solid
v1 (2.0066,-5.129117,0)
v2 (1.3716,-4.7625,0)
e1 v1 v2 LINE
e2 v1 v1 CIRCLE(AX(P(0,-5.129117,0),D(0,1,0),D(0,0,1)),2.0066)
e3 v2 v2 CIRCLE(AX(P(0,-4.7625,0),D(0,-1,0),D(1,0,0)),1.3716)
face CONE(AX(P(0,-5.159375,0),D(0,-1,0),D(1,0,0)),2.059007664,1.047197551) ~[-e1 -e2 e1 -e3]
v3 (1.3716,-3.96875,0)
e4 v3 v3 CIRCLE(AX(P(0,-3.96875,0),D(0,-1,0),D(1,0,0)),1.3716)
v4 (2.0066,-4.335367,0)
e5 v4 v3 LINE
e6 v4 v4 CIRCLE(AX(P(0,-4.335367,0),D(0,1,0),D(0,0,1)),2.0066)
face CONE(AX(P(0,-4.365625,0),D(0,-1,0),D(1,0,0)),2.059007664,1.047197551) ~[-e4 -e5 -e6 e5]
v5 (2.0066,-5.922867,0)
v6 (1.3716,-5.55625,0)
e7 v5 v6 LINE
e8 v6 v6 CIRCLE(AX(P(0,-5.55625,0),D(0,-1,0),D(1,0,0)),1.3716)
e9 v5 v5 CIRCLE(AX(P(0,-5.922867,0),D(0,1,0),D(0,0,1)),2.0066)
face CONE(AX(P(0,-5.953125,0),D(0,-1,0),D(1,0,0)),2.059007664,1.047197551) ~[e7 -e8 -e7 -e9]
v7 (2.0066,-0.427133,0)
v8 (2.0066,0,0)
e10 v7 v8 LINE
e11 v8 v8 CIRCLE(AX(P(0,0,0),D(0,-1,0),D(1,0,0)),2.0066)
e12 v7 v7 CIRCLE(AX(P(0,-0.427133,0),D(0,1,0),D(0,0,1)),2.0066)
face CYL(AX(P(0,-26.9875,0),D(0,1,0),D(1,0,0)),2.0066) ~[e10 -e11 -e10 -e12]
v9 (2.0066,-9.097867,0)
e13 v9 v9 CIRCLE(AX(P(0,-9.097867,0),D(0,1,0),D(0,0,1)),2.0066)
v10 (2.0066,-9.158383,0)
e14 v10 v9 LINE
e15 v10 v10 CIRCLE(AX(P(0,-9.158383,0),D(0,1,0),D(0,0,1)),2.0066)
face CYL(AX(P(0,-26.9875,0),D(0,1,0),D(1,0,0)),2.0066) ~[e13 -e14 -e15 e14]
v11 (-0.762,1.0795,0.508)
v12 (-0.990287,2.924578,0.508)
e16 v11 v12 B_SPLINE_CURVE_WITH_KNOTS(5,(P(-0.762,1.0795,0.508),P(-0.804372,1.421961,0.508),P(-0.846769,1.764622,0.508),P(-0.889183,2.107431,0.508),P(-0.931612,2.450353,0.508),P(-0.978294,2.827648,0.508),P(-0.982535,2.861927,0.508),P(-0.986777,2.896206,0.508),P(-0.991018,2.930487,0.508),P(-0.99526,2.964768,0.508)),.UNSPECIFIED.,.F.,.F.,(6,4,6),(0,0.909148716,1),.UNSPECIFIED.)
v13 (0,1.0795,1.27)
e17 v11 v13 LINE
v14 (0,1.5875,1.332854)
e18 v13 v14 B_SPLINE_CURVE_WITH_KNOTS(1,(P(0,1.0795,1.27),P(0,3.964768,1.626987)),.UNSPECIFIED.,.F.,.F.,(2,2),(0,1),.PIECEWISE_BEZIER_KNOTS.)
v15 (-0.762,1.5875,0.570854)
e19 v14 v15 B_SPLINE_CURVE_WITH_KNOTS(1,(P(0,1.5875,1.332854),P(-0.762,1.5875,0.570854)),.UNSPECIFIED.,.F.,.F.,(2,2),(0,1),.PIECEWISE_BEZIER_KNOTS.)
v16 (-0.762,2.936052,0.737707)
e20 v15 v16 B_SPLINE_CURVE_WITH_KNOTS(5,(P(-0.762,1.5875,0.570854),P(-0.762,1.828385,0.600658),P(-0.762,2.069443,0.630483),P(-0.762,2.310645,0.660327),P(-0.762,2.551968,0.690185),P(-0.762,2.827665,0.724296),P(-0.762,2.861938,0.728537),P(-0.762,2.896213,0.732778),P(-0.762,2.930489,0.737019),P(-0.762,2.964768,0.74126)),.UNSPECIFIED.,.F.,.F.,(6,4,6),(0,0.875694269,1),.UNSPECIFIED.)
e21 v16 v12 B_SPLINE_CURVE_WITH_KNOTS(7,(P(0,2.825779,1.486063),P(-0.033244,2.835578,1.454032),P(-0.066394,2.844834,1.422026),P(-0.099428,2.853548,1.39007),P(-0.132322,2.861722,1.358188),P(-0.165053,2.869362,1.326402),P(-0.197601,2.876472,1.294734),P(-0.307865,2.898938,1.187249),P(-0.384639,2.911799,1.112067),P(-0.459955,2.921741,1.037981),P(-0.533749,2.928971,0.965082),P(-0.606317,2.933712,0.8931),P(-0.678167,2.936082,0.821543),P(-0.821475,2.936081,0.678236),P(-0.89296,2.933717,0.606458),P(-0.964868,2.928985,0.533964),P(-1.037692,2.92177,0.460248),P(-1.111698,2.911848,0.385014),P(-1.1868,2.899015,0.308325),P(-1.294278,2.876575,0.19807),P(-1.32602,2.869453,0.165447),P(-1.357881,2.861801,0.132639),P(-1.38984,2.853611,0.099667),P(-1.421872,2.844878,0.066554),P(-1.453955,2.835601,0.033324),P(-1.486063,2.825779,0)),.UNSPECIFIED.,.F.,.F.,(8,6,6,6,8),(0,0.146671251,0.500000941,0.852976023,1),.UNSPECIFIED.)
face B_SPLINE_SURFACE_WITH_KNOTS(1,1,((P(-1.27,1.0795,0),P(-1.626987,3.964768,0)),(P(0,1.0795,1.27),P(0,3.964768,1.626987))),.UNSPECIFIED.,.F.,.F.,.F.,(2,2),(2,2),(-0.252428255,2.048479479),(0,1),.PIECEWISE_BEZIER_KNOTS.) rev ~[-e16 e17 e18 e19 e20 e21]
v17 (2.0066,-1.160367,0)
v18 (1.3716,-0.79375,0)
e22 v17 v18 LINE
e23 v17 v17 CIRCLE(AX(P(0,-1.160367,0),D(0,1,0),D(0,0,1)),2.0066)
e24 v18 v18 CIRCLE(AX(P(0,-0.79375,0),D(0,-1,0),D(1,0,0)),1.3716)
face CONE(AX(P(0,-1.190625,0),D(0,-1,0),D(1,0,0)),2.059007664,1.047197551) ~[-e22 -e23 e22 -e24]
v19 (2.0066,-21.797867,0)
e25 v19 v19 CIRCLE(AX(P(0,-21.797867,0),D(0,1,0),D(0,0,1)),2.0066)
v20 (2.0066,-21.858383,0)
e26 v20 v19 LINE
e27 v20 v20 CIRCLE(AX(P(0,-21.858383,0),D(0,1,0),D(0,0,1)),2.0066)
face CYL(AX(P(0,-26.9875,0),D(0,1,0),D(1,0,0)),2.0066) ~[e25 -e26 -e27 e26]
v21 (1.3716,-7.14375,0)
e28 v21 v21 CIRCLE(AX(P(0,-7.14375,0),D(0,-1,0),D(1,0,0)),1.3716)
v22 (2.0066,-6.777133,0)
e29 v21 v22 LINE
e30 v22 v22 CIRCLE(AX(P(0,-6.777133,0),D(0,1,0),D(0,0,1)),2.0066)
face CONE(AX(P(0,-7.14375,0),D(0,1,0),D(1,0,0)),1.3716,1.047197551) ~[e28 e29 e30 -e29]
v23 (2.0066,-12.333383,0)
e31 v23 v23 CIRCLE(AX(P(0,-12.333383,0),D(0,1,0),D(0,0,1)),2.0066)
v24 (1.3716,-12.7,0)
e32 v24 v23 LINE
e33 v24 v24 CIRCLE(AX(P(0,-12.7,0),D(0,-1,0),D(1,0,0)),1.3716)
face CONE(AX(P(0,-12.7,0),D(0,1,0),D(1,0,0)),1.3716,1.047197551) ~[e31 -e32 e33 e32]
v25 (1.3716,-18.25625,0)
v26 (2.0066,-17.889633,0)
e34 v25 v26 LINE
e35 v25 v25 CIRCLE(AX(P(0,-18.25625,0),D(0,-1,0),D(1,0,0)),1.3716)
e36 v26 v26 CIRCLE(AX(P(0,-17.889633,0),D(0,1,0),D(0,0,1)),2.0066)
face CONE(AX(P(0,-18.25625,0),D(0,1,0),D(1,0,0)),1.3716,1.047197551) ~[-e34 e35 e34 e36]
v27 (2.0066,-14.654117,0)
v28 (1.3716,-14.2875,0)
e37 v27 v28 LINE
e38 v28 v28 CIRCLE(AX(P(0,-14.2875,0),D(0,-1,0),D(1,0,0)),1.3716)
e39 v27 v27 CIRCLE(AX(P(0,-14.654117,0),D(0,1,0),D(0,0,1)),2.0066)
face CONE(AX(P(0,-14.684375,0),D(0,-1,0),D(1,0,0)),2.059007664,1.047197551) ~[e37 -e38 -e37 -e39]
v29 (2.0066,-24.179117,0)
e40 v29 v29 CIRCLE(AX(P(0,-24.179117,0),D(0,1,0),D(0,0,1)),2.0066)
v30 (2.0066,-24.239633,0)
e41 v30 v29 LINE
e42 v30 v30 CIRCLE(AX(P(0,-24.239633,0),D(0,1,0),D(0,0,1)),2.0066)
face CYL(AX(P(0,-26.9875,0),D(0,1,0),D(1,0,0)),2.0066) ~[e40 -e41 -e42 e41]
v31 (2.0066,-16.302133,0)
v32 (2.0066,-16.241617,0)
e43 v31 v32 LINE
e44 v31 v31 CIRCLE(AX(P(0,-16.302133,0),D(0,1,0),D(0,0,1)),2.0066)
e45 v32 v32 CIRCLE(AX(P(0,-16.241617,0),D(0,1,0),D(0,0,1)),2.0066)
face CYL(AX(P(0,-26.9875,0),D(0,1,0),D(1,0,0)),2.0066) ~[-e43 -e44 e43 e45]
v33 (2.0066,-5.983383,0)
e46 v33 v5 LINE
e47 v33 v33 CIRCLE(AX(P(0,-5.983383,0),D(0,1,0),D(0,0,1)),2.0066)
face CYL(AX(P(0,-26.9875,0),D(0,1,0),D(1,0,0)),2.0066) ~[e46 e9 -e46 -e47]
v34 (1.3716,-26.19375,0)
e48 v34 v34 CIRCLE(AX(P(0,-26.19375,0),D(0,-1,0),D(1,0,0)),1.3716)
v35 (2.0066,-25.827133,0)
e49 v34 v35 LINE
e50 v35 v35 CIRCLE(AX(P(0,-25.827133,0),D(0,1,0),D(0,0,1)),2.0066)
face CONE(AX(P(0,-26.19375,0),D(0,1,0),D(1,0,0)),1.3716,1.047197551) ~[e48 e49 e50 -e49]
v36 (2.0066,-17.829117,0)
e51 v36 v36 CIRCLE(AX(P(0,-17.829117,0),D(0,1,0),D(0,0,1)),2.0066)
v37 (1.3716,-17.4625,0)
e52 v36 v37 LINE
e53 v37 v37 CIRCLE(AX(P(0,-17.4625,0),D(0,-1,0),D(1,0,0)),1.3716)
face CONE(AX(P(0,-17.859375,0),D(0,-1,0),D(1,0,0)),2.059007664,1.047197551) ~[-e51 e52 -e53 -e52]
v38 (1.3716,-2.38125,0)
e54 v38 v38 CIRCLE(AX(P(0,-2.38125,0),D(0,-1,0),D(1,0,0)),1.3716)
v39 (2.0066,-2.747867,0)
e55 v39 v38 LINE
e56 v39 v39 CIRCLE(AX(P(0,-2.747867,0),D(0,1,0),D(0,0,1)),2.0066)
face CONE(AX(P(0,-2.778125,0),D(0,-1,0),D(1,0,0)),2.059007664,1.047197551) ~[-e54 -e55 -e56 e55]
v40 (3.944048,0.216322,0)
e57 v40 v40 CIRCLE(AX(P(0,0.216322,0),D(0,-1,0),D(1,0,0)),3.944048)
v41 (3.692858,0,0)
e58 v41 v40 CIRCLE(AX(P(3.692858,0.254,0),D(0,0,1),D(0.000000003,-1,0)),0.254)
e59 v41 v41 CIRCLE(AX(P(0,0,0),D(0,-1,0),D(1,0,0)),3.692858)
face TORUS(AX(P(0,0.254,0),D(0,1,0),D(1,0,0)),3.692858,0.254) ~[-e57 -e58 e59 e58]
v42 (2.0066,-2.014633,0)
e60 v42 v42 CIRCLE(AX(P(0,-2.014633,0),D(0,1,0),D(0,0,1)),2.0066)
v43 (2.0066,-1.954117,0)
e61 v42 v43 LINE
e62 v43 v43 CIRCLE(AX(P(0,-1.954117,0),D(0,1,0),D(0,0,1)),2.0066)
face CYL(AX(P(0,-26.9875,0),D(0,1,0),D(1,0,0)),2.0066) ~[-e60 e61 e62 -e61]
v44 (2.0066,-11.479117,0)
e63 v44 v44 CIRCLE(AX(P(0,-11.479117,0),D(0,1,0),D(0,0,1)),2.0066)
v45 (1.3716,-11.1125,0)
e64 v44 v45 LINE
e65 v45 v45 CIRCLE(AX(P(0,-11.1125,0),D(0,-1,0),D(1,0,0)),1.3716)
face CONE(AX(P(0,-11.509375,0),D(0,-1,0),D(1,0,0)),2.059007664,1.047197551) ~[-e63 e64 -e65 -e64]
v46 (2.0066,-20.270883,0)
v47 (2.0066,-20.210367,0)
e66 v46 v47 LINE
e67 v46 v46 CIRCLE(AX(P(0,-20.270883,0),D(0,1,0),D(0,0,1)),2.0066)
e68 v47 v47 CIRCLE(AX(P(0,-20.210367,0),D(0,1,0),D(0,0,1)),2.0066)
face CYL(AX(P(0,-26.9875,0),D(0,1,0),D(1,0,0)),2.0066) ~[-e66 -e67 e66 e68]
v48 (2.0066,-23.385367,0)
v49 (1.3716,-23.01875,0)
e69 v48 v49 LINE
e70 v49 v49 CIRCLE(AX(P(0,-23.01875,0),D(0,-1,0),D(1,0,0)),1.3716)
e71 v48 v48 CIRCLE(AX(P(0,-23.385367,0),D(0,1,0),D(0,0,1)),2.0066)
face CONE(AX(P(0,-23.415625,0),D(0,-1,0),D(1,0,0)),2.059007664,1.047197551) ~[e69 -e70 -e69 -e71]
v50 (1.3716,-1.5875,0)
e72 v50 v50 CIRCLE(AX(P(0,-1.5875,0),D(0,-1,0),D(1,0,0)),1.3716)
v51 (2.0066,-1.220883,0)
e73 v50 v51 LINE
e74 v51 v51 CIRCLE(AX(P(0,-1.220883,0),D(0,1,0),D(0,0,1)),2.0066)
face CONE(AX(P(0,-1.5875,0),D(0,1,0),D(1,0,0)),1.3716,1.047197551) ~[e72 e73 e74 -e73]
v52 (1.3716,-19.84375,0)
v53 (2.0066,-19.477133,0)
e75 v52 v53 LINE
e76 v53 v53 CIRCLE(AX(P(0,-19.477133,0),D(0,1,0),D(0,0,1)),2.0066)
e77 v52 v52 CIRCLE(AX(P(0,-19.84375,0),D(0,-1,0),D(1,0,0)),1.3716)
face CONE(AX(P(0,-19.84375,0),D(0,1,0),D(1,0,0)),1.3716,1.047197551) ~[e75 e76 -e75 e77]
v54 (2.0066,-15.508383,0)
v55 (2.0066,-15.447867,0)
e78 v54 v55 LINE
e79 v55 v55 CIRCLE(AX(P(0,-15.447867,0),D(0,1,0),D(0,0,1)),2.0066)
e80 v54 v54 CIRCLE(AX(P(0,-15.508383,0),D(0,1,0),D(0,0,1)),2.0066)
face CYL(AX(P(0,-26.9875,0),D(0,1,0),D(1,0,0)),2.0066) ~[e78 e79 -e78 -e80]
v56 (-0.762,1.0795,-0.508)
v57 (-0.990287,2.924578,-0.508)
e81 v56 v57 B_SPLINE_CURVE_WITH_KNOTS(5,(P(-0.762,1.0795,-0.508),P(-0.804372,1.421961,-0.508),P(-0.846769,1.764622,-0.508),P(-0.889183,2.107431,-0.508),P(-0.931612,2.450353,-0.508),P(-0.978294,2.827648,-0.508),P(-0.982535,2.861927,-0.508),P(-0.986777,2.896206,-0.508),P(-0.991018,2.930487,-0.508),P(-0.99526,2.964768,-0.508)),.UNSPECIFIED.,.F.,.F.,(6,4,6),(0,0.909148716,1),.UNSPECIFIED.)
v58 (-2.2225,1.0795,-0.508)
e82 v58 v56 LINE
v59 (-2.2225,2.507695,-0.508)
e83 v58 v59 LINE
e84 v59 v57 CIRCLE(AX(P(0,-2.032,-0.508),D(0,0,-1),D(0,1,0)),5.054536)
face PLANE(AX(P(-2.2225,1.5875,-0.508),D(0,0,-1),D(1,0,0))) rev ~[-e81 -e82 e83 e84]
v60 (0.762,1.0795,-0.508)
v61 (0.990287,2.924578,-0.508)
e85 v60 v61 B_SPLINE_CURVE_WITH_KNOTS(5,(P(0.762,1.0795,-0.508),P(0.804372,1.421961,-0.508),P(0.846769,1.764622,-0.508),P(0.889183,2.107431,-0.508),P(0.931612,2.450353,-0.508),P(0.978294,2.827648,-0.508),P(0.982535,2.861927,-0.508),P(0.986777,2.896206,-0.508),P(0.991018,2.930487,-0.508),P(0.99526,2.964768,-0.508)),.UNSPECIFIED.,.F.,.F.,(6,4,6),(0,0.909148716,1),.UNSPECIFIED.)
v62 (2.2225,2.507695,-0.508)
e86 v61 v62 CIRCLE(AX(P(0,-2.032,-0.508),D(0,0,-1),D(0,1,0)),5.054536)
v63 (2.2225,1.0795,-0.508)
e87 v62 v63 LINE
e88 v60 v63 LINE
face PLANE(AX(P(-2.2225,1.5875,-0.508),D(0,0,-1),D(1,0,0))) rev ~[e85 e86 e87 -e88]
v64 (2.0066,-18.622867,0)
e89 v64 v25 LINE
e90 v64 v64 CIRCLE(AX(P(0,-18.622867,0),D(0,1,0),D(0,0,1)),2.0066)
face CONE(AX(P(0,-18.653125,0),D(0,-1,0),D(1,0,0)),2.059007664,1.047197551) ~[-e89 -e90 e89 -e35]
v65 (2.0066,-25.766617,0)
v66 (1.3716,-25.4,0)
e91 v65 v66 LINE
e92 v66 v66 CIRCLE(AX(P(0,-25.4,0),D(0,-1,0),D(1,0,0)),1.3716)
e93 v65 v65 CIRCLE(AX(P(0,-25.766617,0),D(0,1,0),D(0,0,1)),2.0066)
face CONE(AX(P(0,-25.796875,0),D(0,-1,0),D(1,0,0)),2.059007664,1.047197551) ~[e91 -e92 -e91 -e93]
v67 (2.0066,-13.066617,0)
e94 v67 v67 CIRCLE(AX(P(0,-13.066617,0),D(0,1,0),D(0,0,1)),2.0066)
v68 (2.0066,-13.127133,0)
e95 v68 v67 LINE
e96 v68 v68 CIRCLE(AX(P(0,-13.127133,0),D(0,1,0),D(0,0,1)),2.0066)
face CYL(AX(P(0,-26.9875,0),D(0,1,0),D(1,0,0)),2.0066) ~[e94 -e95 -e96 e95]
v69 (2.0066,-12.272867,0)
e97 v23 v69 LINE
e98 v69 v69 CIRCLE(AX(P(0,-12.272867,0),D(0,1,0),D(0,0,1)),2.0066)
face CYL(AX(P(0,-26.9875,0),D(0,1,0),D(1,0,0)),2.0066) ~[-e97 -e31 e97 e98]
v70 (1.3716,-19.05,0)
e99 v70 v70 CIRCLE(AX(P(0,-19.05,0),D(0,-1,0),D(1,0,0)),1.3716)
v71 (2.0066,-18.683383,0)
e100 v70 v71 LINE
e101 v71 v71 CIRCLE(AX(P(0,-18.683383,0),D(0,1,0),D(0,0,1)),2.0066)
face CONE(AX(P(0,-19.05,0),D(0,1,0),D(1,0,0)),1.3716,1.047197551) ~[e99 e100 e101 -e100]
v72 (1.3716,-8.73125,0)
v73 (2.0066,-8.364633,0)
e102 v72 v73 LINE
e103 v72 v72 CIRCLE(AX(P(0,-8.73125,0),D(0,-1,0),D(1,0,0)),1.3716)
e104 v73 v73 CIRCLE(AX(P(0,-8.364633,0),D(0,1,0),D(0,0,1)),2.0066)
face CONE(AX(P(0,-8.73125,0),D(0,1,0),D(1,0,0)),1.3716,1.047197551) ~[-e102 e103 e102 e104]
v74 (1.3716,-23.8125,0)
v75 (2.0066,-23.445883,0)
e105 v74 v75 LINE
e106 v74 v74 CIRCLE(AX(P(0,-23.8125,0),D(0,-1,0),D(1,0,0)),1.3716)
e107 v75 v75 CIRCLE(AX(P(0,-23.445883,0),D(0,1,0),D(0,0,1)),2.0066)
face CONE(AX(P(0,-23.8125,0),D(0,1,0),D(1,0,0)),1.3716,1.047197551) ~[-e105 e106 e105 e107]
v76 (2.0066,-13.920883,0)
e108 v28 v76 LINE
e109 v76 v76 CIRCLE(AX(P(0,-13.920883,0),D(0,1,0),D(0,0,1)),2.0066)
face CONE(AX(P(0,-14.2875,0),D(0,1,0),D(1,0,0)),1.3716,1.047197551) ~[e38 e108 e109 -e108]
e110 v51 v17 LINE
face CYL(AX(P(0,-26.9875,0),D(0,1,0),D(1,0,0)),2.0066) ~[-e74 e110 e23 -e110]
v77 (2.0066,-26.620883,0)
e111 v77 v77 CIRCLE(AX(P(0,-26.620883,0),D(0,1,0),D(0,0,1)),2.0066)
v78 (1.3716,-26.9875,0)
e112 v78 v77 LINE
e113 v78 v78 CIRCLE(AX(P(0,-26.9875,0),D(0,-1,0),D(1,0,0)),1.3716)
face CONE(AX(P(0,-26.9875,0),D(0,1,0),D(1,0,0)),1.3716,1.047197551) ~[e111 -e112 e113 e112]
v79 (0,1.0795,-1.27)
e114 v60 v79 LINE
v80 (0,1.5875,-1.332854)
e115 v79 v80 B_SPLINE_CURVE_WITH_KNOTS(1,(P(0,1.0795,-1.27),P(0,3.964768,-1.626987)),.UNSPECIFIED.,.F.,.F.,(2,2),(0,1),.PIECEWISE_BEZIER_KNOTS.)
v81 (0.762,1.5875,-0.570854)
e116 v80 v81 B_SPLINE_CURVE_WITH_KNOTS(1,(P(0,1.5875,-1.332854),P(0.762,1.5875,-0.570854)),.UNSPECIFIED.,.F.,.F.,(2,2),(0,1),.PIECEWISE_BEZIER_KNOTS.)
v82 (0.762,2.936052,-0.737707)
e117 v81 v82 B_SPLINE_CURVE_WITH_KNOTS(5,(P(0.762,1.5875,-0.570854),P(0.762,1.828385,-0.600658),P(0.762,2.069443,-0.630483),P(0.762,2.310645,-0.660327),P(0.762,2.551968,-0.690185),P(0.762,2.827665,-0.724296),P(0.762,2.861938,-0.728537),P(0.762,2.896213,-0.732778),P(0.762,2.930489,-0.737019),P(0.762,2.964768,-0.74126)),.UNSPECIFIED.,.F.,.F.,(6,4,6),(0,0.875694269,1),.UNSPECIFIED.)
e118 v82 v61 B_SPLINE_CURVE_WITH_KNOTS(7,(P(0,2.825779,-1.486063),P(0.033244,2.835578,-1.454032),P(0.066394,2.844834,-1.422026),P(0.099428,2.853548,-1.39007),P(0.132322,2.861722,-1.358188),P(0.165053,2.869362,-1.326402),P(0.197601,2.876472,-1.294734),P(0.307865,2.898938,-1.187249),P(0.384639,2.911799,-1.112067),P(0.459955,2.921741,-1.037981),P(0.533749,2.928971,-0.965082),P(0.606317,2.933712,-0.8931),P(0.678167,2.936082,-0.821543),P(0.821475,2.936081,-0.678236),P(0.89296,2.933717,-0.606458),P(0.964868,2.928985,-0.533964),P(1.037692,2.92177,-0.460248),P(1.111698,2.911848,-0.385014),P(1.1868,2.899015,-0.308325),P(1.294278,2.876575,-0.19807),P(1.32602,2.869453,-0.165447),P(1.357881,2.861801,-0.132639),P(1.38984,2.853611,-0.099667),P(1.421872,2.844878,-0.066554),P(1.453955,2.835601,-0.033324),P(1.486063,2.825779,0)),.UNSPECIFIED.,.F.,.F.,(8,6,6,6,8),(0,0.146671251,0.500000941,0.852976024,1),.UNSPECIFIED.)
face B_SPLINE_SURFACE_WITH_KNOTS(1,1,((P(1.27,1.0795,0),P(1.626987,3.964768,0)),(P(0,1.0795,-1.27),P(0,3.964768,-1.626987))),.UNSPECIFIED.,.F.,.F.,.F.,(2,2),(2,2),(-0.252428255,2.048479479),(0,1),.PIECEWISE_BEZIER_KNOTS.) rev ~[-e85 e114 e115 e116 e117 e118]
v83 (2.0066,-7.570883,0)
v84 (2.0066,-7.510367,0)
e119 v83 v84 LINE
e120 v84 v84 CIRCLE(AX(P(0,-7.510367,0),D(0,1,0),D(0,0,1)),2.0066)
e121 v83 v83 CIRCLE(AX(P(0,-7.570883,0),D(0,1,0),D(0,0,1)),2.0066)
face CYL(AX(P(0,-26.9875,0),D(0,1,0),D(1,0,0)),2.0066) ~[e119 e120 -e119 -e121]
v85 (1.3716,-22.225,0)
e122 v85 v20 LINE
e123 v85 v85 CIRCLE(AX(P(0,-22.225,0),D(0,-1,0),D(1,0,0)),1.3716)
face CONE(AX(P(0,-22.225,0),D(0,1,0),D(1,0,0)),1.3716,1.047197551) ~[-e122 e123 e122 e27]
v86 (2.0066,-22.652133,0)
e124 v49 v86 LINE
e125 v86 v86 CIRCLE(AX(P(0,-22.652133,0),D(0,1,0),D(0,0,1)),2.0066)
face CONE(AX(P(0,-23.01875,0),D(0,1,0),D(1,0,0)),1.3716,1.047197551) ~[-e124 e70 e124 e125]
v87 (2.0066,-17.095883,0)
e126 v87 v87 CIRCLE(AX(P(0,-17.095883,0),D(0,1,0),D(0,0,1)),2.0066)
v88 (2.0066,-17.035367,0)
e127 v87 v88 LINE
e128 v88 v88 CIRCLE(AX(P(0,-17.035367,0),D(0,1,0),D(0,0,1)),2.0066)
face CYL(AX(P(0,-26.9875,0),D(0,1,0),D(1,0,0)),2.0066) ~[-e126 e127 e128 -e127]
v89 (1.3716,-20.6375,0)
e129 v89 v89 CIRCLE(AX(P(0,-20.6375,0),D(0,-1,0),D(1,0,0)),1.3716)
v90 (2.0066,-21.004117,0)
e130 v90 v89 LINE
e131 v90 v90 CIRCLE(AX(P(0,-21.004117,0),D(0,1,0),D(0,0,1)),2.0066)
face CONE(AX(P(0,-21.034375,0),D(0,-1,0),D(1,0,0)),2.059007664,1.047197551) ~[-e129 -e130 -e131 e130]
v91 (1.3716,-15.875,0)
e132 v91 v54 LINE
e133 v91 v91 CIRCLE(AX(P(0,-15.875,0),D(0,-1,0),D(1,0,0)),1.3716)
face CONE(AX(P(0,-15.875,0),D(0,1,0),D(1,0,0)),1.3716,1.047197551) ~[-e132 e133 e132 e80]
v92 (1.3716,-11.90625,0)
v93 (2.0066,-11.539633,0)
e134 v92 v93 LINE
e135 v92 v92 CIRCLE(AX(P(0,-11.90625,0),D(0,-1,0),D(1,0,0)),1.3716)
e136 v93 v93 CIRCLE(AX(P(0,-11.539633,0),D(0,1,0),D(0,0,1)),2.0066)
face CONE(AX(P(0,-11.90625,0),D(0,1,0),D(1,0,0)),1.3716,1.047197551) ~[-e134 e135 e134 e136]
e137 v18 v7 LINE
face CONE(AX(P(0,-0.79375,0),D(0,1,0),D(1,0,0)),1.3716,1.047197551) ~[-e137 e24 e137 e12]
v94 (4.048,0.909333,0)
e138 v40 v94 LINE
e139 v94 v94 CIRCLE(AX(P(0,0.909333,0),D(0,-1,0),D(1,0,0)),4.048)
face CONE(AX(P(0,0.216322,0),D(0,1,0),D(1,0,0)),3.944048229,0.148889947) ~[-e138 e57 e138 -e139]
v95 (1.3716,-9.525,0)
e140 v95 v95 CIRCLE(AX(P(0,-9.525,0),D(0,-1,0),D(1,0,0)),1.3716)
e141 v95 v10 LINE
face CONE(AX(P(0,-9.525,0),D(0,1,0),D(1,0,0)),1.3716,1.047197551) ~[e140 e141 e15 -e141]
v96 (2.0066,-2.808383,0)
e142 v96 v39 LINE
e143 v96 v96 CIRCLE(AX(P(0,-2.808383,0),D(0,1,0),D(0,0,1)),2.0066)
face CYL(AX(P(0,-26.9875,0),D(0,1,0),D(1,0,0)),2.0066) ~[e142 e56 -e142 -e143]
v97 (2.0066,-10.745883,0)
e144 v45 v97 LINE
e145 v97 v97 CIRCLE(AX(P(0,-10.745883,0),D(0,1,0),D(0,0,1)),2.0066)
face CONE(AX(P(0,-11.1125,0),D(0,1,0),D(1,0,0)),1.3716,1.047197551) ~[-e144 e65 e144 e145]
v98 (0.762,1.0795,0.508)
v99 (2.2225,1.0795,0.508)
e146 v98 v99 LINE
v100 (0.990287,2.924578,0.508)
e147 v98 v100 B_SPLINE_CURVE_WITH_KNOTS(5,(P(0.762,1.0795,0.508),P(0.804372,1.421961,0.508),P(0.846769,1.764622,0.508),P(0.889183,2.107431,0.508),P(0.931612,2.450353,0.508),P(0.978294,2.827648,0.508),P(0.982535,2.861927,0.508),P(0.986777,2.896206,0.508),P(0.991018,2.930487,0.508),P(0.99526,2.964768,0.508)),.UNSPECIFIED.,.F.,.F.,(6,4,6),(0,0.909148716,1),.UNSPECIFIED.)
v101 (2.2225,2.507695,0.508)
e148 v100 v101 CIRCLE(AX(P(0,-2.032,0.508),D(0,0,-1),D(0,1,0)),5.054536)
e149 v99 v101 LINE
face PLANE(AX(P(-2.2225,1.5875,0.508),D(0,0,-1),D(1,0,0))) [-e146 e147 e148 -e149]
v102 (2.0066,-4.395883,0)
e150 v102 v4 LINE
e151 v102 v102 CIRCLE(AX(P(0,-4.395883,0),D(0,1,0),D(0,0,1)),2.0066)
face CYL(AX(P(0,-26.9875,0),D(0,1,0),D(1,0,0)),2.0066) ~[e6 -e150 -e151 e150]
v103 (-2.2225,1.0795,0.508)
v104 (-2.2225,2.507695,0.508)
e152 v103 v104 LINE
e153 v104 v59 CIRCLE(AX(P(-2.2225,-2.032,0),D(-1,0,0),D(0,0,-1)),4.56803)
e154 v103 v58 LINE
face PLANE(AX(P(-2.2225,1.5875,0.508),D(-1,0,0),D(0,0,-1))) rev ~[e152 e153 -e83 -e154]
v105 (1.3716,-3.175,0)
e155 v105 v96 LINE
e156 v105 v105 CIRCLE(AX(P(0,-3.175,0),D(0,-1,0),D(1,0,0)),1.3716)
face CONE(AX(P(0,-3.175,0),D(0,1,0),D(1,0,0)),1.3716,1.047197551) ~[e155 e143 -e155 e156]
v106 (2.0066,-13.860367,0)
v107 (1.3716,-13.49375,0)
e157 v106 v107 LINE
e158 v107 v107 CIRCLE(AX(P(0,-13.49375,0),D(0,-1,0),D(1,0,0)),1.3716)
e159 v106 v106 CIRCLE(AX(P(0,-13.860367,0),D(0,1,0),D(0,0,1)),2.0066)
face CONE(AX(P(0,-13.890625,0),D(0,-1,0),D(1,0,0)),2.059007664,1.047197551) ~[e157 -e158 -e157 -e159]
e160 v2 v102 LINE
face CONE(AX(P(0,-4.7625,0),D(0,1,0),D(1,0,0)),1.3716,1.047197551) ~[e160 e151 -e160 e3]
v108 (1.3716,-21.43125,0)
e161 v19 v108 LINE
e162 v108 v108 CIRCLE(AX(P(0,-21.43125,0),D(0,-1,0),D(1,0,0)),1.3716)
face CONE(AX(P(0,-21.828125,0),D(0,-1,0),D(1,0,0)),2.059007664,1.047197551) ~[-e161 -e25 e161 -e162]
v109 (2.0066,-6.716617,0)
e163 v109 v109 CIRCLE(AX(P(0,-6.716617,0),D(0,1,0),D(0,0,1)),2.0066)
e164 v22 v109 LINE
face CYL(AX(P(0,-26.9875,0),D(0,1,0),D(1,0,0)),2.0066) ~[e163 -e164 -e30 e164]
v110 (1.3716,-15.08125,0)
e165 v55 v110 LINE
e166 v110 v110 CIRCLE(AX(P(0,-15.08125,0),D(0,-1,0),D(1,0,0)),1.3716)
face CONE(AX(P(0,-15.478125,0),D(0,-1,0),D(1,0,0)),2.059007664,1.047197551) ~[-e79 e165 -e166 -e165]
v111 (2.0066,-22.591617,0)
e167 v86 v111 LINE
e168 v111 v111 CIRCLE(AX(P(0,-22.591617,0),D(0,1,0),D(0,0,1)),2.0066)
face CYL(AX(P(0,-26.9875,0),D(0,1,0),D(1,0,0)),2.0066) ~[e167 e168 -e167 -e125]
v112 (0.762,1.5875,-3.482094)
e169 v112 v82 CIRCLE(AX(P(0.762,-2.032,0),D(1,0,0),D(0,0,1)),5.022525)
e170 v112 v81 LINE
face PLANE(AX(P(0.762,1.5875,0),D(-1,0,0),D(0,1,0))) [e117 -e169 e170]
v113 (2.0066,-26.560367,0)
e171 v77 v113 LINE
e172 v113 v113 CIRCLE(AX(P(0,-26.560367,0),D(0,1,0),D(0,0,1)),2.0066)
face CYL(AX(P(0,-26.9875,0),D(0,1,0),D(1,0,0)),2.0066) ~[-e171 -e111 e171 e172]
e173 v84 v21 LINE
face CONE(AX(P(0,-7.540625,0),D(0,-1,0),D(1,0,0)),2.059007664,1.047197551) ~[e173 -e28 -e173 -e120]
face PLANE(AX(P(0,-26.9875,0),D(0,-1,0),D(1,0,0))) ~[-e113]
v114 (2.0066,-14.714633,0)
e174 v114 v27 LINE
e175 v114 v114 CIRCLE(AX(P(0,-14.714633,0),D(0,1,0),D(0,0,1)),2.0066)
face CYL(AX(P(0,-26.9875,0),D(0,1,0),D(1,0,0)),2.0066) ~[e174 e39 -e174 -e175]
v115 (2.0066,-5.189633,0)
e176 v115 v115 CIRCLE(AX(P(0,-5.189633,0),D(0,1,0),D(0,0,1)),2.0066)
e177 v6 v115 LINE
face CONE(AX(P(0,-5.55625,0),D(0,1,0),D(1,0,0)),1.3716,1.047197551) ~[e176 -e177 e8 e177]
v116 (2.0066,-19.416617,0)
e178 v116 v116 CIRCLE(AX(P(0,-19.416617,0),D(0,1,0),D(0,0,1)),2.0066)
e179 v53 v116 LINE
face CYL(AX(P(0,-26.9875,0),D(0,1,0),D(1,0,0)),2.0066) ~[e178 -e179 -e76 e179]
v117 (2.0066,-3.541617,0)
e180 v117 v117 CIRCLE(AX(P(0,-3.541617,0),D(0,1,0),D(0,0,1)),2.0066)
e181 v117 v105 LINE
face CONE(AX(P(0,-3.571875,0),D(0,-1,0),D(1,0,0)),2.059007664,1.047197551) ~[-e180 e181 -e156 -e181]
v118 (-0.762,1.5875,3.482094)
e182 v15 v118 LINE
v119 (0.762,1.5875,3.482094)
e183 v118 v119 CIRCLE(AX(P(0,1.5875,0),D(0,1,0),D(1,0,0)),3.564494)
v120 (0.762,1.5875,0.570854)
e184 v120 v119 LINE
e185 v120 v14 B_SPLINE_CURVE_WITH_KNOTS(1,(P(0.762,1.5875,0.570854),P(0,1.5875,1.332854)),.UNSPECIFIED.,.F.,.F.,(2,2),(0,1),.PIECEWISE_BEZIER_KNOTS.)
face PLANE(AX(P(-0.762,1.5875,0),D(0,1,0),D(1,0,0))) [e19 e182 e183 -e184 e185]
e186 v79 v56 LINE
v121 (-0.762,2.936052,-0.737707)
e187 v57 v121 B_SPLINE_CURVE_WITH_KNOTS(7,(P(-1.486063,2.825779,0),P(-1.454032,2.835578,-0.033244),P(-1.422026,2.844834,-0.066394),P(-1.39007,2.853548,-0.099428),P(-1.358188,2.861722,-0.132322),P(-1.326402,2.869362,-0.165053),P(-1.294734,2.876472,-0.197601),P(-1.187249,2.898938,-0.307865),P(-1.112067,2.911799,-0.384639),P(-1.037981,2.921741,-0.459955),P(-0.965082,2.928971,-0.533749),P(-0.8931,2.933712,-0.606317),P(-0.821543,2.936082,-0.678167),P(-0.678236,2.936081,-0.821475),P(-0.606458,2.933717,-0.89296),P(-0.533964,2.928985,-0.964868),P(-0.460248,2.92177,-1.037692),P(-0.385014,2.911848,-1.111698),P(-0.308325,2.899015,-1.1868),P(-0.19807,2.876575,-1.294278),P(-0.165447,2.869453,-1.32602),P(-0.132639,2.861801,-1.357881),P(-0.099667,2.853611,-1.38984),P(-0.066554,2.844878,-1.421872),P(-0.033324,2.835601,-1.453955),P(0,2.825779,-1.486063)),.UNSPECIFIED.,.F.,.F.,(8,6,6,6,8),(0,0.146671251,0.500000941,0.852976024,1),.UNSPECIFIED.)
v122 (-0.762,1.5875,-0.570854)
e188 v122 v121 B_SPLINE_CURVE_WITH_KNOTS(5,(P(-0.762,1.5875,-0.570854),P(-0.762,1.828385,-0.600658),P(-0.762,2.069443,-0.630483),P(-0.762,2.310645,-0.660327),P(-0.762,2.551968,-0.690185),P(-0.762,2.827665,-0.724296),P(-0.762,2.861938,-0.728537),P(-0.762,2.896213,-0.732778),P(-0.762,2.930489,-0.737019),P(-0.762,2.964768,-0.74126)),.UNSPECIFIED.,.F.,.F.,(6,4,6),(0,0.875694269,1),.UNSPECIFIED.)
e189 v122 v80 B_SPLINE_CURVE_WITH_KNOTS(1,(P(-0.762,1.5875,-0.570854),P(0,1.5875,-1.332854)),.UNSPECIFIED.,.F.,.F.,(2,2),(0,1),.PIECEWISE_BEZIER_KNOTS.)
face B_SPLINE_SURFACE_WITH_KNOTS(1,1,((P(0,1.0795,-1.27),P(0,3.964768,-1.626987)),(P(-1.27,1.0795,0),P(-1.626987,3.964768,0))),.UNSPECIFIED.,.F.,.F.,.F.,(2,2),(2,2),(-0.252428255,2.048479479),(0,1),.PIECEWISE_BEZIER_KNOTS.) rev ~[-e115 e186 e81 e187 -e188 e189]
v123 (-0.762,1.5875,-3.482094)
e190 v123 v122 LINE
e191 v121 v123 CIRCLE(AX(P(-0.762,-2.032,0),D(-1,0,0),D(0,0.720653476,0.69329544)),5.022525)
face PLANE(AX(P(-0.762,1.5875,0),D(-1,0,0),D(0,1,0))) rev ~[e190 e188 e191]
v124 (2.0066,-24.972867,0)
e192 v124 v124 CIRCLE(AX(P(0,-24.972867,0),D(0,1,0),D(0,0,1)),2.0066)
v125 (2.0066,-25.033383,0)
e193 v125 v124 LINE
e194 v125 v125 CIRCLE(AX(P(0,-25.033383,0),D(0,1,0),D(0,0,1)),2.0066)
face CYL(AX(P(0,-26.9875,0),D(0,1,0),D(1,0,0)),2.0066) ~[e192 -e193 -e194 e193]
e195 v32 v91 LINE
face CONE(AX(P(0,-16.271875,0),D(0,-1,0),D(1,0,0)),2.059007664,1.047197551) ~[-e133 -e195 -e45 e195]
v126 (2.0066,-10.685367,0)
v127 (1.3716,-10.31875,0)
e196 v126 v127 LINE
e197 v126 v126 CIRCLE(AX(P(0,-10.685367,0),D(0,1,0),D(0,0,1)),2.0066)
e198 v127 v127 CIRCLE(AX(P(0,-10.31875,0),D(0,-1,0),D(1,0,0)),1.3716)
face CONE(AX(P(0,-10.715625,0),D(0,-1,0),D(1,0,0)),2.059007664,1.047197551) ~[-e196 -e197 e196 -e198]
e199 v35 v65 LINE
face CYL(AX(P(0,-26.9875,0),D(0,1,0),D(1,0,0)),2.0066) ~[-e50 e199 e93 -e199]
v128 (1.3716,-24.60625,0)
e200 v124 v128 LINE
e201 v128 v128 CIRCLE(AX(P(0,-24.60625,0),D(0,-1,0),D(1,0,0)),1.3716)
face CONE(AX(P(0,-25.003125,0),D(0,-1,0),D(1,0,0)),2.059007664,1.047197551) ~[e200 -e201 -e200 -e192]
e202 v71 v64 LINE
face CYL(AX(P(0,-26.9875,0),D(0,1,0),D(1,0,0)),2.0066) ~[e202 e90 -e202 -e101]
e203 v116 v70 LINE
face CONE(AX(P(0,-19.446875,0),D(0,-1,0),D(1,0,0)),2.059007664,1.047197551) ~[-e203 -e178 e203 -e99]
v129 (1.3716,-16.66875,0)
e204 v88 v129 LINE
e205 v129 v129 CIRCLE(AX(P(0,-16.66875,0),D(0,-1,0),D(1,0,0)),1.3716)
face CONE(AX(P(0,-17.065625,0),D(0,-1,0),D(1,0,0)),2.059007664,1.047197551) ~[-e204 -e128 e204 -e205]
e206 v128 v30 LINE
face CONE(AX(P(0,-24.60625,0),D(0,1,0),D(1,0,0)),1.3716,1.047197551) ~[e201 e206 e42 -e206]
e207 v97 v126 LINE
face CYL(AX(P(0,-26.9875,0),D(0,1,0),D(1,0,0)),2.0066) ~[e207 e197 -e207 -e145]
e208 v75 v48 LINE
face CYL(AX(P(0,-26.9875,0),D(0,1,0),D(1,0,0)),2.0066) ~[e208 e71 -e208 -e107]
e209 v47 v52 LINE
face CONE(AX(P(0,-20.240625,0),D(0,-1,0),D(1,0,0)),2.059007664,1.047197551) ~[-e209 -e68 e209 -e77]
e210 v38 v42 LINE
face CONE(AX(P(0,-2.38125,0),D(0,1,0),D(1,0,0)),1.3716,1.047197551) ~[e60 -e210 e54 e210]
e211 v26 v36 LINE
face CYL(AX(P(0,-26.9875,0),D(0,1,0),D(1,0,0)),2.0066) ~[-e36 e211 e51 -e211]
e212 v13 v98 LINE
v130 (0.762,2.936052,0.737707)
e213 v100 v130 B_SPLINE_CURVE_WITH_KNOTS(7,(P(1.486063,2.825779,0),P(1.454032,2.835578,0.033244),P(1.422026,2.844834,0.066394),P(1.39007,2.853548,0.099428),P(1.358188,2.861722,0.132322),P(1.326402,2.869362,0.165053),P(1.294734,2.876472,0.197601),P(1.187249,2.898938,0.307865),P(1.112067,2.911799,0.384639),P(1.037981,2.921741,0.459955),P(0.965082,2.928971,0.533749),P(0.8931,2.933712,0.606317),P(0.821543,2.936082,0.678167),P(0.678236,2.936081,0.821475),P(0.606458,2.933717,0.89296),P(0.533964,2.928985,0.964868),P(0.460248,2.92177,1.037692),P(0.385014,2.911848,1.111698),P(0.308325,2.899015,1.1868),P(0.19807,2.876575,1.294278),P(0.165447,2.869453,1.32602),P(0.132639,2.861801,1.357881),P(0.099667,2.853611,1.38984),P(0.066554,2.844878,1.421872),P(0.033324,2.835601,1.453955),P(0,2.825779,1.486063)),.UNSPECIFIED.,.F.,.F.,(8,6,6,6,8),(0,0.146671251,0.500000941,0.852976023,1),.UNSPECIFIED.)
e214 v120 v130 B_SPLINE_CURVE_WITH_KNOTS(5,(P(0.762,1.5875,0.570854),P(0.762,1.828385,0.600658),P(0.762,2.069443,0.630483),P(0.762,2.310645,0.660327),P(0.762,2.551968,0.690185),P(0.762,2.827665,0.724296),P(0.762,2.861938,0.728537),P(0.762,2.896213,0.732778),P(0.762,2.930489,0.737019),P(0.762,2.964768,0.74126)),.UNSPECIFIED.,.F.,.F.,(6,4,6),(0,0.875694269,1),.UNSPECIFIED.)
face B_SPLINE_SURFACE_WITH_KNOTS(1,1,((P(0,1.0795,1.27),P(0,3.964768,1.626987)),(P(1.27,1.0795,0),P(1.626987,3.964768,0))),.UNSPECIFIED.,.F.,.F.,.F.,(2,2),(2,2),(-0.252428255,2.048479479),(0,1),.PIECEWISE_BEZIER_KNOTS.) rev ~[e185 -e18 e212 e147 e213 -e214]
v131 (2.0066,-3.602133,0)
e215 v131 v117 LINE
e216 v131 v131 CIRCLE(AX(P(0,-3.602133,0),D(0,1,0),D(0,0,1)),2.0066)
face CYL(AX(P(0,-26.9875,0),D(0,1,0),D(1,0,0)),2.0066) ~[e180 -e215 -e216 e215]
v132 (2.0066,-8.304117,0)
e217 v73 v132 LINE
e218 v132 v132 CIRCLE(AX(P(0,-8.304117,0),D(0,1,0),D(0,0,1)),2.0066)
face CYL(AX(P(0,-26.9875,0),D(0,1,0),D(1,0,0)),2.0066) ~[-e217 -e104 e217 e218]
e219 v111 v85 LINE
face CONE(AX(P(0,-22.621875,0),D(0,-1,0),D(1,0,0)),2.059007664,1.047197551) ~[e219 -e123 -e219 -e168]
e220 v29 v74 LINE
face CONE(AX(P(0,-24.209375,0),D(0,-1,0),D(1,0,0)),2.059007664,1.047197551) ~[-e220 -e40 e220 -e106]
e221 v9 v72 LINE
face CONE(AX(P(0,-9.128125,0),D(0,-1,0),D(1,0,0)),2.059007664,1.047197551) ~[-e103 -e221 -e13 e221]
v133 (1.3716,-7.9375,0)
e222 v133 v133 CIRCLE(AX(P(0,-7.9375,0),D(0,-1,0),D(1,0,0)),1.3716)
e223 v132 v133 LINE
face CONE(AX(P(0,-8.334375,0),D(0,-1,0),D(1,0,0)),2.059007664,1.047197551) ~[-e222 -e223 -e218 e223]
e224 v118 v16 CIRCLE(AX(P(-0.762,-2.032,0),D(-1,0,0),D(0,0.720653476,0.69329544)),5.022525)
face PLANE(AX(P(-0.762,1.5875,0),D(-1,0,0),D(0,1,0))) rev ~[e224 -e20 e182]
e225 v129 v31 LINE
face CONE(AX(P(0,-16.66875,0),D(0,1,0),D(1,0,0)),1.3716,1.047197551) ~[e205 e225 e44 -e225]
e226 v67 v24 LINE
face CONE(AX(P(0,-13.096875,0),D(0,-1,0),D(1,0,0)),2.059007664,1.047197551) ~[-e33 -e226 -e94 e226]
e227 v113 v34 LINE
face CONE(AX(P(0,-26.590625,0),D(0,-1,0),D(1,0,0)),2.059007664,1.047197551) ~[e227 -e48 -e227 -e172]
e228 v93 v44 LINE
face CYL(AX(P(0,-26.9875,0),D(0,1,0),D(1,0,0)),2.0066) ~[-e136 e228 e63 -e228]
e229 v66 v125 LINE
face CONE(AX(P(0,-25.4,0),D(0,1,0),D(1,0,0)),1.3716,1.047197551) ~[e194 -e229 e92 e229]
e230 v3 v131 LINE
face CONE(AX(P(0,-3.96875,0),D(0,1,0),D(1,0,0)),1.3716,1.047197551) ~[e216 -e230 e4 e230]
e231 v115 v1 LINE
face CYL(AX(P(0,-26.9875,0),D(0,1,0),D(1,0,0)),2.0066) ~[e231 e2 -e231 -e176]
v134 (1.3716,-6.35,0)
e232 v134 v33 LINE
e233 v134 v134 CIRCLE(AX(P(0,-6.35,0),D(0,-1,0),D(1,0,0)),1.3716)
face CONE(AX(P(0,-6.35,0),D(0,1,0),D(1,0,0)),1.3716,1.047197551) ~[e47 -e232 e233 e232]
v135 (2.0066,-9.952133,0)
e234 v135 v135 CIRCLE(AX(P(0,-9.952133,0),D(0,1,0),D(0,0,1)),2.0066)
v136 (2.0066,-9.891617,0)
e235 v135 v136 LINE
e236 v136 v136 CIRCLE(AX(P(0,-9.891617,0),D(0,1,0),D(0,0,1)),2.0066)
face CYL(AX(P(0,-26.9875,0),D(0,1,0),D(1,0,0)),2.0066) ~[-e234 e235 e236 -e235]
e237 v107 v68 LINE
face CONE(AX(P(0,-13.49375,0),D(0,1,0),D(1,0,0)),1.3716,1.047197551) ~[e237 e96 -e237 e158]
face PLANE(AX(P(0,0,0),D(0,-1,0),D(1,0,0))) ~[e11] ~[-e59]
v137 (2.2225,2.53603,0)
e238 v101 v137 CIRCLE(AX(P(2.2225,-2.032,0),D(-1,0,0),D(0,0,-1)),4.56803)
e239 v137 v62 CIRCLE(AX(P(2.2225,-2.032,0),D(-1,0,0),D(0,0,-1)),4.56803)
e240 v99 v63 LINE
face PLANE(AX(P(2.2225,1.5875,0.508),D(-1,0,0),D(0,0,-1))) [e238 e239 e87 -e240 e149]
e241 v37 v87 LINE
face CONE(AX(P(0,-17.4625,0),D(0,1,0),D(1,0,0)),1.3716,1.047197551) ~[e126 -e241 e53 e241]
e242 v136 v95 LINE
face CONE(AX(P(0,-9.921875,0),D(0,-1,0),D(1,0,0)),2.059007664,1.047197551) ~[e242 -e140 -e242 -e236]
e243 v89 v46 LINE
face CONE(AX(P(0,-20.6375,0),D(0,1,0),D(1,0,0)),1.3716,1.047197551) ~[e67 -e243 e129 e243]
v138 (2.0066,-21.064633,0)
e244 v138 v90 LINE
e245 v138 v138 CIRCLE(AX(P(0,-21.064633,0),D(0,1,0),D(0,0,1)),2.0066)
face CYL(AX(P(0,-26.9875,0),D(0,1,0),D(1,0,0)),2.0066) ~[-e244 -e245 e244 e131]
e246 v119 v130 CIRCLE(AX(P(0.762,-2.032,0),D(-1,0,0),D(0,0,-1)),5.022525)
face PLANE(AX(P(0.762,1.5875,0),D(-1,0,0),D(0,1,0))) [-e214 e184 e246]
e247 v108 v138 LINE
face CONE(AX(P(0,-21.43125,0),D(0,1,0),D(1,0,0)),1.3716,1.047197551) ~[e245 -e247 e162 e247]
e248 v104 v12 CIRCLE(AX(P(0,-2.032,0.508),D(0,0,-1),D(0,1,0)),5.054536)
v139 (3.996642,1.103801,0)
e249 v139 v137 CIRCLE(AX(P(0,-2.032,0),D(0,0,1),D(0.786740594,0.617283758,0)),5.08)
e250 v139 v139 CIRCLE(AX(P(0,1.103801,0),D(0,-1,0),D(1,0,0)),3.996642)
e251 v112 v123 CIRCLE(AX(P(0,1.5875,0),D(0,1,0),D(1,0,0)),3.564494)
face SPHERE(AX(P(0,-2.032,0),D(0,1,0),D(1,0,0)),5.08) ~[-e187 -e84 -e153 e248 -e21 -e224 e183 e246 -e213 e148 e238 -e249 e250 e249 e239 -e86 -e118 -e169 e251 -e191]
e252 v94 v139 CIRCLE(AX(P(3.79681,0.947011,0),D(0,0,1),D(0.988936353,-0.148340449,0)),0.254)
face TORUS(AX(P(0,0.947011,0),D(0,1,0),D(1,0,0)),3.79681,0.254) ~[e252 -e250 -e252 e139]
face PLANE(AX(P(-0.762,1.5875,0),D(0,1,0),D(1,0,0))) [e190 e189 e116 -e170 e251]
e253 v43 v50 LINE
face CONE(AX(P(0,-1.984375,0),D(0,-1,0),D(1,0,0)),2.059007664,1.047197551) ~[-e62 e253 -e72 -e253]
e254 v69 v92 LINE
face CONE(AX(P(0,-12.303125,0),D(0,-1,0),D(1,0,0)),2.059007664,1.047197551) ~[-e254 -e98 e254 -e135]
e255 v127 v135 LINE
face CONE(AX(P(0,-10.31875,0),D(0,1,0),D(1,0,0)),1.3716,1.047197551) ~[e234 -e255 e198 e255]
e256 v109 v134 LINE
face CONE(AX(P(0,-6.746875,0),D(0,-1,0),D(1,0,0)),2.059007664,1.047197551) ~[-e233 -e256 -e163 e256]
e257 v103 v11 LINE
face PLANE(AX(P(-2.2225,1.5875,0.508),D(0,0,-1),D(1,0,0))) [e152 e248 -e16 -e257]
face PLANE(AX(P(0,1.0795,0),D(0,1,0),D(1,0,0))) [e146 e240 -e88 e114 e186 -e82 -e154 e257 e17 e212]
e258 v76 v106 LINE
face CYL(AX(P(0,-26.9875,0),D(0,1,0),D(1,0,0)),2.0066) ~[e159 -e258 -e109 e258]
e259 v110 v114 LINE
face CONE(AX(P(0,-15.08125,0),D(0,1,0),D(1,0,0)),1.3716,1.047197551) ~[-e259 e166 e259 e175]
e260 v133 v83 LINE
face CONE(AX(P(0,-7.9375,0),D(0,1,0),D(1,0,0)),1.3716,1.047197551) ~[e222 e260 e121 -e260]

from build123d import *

# Parameters (mm, degrees)
LPATTERN1_COUNT         = 34
LPATTERN1_PITCH         = 0.79375
SKETCH3_W               = 1.524
SKETCH3_H               = 2.54
CUT_EXTRUDE1_DEPTH      = 5.050810207
CUT_EXTRUDE1_DEPTH_BACK = 5.050810207
SKETCH4_W               = 4.445
SKETCH4_H               = 1.016
CUT_EXTRUDE2_DEPTH      = 2.403024863
CUT_EXTRUDE2_DEPTH_BACK = 0.508
CUT_EXTRUDE3_DEPTH      = 2.885268156
CUT_EXTRUDE3_TAPER      = -5


with BuildPart() as part:
    # Sketch1 → Revolve1 (revolve)
    with BuildSketch(Plane.XY):
        with BuildLine():
            Line((0, 3.048), (0, -26.9875))
            Line((0, -26.9875), (2.0066, -26.9875))
            Line((2.0066, -26.9875), (2.0066, 0))
            Line((2.0066, 0), (3.692858395, 0))
            ThreePointArc((3.692858395, 0), (3.858607705, 0.061533987), (3.944048229, 0.216321525))
            Line((3.944048229, 0.216321525), (4.047999941, 0.90933294))
            ThreePointArc((4.047999941, 0.90933294), (4.042390446, 1.011867387), (3.996642218, 1.103801489))
            ThreePointArc((3.996642218, 1.103801489), (2.22222056, 2.536165472), (0, 3.048))
        make_face()
    revolve(axis=Axis((0, 3.048, 0), (0, -1, 0)))

    # Sketch2 → Cut-Revolve1 (revolve, cut)
    with BuildSketch(Plane.XY):
        Polygon((2.852757664, -26.590625), (2.852757664, -27.384375), (2.059007664, -27.384375), (1.3716, -26.9875), (2.059007664, -26.590625), align=None)
    cut_revolve1 = revolve(axis=Axis((0, 0, 0), (0, -1, 0)), mode=Mode.SUBTRACT)

    # LPattern1: Cut-Revolve1 ×34
    with Locations(*[(0, i * LPATTERN1_PITCH, 0) for i in range(1, LPATTERN1_COUNT)]):
        add(cut_revolve1, mode=Mode.SUBTRACT)

    # Sketch3 → Cut-Extrude1 (cut, two sides)
    with BuildSketch(Plane.XY) as cut_extrude1_sk:
        with Locations((0, 2.8575)):
            Rectangle(SKETCH3_W, SKETCH3_H)
    extrude(amount=CUT_EXTRUDE1_DEPTH, mode=Mode.SUBTRACT)
    extrude(cut_extrude1_sk.sketch, amount=-CUT_EXTRUDE1_DEPTH_BACK, mode=Mode.SUBTRACT)

    # Sketch4 → Cut-Extrude2 (cut, two sides)
    with BuildSketch(Plane(origin=(0, 1.5875, 0), x_dir=(1, 0, 0), z_dir=(0, 1, 0))) as cut_extrude2_sk:
        Rectangle(SKETCH4_W, SKETCH4_H)
    extrude(amount=CUT_EXTRUDE2_DEPTH, mode=Mode.SUBTRACT)
    extrude(cut_extrude2_sk.sketch, amount=-CUT_EXTRUDE2_DEPTH_BACK, mode=Mode.SUBTRACT)

    # Sketch5 → Cut-Extrude3 (cut, through all)
    with BuildSketch(Plane(origin=(0, 1.0795, 0), x_dir=(1, 0, 0), z_dir=(0, 1, 0))):
        Polygon((0, -1.27), (1.27, 0), (0, 1.27), (-1.27, 0), align=None)
    extrude(amount=CUT_EXTRUDE3_DEPTH, taper=CUT_EXTRUDE3_TAPER, mode=Mode.SUBTRACT)


solid = part.part
